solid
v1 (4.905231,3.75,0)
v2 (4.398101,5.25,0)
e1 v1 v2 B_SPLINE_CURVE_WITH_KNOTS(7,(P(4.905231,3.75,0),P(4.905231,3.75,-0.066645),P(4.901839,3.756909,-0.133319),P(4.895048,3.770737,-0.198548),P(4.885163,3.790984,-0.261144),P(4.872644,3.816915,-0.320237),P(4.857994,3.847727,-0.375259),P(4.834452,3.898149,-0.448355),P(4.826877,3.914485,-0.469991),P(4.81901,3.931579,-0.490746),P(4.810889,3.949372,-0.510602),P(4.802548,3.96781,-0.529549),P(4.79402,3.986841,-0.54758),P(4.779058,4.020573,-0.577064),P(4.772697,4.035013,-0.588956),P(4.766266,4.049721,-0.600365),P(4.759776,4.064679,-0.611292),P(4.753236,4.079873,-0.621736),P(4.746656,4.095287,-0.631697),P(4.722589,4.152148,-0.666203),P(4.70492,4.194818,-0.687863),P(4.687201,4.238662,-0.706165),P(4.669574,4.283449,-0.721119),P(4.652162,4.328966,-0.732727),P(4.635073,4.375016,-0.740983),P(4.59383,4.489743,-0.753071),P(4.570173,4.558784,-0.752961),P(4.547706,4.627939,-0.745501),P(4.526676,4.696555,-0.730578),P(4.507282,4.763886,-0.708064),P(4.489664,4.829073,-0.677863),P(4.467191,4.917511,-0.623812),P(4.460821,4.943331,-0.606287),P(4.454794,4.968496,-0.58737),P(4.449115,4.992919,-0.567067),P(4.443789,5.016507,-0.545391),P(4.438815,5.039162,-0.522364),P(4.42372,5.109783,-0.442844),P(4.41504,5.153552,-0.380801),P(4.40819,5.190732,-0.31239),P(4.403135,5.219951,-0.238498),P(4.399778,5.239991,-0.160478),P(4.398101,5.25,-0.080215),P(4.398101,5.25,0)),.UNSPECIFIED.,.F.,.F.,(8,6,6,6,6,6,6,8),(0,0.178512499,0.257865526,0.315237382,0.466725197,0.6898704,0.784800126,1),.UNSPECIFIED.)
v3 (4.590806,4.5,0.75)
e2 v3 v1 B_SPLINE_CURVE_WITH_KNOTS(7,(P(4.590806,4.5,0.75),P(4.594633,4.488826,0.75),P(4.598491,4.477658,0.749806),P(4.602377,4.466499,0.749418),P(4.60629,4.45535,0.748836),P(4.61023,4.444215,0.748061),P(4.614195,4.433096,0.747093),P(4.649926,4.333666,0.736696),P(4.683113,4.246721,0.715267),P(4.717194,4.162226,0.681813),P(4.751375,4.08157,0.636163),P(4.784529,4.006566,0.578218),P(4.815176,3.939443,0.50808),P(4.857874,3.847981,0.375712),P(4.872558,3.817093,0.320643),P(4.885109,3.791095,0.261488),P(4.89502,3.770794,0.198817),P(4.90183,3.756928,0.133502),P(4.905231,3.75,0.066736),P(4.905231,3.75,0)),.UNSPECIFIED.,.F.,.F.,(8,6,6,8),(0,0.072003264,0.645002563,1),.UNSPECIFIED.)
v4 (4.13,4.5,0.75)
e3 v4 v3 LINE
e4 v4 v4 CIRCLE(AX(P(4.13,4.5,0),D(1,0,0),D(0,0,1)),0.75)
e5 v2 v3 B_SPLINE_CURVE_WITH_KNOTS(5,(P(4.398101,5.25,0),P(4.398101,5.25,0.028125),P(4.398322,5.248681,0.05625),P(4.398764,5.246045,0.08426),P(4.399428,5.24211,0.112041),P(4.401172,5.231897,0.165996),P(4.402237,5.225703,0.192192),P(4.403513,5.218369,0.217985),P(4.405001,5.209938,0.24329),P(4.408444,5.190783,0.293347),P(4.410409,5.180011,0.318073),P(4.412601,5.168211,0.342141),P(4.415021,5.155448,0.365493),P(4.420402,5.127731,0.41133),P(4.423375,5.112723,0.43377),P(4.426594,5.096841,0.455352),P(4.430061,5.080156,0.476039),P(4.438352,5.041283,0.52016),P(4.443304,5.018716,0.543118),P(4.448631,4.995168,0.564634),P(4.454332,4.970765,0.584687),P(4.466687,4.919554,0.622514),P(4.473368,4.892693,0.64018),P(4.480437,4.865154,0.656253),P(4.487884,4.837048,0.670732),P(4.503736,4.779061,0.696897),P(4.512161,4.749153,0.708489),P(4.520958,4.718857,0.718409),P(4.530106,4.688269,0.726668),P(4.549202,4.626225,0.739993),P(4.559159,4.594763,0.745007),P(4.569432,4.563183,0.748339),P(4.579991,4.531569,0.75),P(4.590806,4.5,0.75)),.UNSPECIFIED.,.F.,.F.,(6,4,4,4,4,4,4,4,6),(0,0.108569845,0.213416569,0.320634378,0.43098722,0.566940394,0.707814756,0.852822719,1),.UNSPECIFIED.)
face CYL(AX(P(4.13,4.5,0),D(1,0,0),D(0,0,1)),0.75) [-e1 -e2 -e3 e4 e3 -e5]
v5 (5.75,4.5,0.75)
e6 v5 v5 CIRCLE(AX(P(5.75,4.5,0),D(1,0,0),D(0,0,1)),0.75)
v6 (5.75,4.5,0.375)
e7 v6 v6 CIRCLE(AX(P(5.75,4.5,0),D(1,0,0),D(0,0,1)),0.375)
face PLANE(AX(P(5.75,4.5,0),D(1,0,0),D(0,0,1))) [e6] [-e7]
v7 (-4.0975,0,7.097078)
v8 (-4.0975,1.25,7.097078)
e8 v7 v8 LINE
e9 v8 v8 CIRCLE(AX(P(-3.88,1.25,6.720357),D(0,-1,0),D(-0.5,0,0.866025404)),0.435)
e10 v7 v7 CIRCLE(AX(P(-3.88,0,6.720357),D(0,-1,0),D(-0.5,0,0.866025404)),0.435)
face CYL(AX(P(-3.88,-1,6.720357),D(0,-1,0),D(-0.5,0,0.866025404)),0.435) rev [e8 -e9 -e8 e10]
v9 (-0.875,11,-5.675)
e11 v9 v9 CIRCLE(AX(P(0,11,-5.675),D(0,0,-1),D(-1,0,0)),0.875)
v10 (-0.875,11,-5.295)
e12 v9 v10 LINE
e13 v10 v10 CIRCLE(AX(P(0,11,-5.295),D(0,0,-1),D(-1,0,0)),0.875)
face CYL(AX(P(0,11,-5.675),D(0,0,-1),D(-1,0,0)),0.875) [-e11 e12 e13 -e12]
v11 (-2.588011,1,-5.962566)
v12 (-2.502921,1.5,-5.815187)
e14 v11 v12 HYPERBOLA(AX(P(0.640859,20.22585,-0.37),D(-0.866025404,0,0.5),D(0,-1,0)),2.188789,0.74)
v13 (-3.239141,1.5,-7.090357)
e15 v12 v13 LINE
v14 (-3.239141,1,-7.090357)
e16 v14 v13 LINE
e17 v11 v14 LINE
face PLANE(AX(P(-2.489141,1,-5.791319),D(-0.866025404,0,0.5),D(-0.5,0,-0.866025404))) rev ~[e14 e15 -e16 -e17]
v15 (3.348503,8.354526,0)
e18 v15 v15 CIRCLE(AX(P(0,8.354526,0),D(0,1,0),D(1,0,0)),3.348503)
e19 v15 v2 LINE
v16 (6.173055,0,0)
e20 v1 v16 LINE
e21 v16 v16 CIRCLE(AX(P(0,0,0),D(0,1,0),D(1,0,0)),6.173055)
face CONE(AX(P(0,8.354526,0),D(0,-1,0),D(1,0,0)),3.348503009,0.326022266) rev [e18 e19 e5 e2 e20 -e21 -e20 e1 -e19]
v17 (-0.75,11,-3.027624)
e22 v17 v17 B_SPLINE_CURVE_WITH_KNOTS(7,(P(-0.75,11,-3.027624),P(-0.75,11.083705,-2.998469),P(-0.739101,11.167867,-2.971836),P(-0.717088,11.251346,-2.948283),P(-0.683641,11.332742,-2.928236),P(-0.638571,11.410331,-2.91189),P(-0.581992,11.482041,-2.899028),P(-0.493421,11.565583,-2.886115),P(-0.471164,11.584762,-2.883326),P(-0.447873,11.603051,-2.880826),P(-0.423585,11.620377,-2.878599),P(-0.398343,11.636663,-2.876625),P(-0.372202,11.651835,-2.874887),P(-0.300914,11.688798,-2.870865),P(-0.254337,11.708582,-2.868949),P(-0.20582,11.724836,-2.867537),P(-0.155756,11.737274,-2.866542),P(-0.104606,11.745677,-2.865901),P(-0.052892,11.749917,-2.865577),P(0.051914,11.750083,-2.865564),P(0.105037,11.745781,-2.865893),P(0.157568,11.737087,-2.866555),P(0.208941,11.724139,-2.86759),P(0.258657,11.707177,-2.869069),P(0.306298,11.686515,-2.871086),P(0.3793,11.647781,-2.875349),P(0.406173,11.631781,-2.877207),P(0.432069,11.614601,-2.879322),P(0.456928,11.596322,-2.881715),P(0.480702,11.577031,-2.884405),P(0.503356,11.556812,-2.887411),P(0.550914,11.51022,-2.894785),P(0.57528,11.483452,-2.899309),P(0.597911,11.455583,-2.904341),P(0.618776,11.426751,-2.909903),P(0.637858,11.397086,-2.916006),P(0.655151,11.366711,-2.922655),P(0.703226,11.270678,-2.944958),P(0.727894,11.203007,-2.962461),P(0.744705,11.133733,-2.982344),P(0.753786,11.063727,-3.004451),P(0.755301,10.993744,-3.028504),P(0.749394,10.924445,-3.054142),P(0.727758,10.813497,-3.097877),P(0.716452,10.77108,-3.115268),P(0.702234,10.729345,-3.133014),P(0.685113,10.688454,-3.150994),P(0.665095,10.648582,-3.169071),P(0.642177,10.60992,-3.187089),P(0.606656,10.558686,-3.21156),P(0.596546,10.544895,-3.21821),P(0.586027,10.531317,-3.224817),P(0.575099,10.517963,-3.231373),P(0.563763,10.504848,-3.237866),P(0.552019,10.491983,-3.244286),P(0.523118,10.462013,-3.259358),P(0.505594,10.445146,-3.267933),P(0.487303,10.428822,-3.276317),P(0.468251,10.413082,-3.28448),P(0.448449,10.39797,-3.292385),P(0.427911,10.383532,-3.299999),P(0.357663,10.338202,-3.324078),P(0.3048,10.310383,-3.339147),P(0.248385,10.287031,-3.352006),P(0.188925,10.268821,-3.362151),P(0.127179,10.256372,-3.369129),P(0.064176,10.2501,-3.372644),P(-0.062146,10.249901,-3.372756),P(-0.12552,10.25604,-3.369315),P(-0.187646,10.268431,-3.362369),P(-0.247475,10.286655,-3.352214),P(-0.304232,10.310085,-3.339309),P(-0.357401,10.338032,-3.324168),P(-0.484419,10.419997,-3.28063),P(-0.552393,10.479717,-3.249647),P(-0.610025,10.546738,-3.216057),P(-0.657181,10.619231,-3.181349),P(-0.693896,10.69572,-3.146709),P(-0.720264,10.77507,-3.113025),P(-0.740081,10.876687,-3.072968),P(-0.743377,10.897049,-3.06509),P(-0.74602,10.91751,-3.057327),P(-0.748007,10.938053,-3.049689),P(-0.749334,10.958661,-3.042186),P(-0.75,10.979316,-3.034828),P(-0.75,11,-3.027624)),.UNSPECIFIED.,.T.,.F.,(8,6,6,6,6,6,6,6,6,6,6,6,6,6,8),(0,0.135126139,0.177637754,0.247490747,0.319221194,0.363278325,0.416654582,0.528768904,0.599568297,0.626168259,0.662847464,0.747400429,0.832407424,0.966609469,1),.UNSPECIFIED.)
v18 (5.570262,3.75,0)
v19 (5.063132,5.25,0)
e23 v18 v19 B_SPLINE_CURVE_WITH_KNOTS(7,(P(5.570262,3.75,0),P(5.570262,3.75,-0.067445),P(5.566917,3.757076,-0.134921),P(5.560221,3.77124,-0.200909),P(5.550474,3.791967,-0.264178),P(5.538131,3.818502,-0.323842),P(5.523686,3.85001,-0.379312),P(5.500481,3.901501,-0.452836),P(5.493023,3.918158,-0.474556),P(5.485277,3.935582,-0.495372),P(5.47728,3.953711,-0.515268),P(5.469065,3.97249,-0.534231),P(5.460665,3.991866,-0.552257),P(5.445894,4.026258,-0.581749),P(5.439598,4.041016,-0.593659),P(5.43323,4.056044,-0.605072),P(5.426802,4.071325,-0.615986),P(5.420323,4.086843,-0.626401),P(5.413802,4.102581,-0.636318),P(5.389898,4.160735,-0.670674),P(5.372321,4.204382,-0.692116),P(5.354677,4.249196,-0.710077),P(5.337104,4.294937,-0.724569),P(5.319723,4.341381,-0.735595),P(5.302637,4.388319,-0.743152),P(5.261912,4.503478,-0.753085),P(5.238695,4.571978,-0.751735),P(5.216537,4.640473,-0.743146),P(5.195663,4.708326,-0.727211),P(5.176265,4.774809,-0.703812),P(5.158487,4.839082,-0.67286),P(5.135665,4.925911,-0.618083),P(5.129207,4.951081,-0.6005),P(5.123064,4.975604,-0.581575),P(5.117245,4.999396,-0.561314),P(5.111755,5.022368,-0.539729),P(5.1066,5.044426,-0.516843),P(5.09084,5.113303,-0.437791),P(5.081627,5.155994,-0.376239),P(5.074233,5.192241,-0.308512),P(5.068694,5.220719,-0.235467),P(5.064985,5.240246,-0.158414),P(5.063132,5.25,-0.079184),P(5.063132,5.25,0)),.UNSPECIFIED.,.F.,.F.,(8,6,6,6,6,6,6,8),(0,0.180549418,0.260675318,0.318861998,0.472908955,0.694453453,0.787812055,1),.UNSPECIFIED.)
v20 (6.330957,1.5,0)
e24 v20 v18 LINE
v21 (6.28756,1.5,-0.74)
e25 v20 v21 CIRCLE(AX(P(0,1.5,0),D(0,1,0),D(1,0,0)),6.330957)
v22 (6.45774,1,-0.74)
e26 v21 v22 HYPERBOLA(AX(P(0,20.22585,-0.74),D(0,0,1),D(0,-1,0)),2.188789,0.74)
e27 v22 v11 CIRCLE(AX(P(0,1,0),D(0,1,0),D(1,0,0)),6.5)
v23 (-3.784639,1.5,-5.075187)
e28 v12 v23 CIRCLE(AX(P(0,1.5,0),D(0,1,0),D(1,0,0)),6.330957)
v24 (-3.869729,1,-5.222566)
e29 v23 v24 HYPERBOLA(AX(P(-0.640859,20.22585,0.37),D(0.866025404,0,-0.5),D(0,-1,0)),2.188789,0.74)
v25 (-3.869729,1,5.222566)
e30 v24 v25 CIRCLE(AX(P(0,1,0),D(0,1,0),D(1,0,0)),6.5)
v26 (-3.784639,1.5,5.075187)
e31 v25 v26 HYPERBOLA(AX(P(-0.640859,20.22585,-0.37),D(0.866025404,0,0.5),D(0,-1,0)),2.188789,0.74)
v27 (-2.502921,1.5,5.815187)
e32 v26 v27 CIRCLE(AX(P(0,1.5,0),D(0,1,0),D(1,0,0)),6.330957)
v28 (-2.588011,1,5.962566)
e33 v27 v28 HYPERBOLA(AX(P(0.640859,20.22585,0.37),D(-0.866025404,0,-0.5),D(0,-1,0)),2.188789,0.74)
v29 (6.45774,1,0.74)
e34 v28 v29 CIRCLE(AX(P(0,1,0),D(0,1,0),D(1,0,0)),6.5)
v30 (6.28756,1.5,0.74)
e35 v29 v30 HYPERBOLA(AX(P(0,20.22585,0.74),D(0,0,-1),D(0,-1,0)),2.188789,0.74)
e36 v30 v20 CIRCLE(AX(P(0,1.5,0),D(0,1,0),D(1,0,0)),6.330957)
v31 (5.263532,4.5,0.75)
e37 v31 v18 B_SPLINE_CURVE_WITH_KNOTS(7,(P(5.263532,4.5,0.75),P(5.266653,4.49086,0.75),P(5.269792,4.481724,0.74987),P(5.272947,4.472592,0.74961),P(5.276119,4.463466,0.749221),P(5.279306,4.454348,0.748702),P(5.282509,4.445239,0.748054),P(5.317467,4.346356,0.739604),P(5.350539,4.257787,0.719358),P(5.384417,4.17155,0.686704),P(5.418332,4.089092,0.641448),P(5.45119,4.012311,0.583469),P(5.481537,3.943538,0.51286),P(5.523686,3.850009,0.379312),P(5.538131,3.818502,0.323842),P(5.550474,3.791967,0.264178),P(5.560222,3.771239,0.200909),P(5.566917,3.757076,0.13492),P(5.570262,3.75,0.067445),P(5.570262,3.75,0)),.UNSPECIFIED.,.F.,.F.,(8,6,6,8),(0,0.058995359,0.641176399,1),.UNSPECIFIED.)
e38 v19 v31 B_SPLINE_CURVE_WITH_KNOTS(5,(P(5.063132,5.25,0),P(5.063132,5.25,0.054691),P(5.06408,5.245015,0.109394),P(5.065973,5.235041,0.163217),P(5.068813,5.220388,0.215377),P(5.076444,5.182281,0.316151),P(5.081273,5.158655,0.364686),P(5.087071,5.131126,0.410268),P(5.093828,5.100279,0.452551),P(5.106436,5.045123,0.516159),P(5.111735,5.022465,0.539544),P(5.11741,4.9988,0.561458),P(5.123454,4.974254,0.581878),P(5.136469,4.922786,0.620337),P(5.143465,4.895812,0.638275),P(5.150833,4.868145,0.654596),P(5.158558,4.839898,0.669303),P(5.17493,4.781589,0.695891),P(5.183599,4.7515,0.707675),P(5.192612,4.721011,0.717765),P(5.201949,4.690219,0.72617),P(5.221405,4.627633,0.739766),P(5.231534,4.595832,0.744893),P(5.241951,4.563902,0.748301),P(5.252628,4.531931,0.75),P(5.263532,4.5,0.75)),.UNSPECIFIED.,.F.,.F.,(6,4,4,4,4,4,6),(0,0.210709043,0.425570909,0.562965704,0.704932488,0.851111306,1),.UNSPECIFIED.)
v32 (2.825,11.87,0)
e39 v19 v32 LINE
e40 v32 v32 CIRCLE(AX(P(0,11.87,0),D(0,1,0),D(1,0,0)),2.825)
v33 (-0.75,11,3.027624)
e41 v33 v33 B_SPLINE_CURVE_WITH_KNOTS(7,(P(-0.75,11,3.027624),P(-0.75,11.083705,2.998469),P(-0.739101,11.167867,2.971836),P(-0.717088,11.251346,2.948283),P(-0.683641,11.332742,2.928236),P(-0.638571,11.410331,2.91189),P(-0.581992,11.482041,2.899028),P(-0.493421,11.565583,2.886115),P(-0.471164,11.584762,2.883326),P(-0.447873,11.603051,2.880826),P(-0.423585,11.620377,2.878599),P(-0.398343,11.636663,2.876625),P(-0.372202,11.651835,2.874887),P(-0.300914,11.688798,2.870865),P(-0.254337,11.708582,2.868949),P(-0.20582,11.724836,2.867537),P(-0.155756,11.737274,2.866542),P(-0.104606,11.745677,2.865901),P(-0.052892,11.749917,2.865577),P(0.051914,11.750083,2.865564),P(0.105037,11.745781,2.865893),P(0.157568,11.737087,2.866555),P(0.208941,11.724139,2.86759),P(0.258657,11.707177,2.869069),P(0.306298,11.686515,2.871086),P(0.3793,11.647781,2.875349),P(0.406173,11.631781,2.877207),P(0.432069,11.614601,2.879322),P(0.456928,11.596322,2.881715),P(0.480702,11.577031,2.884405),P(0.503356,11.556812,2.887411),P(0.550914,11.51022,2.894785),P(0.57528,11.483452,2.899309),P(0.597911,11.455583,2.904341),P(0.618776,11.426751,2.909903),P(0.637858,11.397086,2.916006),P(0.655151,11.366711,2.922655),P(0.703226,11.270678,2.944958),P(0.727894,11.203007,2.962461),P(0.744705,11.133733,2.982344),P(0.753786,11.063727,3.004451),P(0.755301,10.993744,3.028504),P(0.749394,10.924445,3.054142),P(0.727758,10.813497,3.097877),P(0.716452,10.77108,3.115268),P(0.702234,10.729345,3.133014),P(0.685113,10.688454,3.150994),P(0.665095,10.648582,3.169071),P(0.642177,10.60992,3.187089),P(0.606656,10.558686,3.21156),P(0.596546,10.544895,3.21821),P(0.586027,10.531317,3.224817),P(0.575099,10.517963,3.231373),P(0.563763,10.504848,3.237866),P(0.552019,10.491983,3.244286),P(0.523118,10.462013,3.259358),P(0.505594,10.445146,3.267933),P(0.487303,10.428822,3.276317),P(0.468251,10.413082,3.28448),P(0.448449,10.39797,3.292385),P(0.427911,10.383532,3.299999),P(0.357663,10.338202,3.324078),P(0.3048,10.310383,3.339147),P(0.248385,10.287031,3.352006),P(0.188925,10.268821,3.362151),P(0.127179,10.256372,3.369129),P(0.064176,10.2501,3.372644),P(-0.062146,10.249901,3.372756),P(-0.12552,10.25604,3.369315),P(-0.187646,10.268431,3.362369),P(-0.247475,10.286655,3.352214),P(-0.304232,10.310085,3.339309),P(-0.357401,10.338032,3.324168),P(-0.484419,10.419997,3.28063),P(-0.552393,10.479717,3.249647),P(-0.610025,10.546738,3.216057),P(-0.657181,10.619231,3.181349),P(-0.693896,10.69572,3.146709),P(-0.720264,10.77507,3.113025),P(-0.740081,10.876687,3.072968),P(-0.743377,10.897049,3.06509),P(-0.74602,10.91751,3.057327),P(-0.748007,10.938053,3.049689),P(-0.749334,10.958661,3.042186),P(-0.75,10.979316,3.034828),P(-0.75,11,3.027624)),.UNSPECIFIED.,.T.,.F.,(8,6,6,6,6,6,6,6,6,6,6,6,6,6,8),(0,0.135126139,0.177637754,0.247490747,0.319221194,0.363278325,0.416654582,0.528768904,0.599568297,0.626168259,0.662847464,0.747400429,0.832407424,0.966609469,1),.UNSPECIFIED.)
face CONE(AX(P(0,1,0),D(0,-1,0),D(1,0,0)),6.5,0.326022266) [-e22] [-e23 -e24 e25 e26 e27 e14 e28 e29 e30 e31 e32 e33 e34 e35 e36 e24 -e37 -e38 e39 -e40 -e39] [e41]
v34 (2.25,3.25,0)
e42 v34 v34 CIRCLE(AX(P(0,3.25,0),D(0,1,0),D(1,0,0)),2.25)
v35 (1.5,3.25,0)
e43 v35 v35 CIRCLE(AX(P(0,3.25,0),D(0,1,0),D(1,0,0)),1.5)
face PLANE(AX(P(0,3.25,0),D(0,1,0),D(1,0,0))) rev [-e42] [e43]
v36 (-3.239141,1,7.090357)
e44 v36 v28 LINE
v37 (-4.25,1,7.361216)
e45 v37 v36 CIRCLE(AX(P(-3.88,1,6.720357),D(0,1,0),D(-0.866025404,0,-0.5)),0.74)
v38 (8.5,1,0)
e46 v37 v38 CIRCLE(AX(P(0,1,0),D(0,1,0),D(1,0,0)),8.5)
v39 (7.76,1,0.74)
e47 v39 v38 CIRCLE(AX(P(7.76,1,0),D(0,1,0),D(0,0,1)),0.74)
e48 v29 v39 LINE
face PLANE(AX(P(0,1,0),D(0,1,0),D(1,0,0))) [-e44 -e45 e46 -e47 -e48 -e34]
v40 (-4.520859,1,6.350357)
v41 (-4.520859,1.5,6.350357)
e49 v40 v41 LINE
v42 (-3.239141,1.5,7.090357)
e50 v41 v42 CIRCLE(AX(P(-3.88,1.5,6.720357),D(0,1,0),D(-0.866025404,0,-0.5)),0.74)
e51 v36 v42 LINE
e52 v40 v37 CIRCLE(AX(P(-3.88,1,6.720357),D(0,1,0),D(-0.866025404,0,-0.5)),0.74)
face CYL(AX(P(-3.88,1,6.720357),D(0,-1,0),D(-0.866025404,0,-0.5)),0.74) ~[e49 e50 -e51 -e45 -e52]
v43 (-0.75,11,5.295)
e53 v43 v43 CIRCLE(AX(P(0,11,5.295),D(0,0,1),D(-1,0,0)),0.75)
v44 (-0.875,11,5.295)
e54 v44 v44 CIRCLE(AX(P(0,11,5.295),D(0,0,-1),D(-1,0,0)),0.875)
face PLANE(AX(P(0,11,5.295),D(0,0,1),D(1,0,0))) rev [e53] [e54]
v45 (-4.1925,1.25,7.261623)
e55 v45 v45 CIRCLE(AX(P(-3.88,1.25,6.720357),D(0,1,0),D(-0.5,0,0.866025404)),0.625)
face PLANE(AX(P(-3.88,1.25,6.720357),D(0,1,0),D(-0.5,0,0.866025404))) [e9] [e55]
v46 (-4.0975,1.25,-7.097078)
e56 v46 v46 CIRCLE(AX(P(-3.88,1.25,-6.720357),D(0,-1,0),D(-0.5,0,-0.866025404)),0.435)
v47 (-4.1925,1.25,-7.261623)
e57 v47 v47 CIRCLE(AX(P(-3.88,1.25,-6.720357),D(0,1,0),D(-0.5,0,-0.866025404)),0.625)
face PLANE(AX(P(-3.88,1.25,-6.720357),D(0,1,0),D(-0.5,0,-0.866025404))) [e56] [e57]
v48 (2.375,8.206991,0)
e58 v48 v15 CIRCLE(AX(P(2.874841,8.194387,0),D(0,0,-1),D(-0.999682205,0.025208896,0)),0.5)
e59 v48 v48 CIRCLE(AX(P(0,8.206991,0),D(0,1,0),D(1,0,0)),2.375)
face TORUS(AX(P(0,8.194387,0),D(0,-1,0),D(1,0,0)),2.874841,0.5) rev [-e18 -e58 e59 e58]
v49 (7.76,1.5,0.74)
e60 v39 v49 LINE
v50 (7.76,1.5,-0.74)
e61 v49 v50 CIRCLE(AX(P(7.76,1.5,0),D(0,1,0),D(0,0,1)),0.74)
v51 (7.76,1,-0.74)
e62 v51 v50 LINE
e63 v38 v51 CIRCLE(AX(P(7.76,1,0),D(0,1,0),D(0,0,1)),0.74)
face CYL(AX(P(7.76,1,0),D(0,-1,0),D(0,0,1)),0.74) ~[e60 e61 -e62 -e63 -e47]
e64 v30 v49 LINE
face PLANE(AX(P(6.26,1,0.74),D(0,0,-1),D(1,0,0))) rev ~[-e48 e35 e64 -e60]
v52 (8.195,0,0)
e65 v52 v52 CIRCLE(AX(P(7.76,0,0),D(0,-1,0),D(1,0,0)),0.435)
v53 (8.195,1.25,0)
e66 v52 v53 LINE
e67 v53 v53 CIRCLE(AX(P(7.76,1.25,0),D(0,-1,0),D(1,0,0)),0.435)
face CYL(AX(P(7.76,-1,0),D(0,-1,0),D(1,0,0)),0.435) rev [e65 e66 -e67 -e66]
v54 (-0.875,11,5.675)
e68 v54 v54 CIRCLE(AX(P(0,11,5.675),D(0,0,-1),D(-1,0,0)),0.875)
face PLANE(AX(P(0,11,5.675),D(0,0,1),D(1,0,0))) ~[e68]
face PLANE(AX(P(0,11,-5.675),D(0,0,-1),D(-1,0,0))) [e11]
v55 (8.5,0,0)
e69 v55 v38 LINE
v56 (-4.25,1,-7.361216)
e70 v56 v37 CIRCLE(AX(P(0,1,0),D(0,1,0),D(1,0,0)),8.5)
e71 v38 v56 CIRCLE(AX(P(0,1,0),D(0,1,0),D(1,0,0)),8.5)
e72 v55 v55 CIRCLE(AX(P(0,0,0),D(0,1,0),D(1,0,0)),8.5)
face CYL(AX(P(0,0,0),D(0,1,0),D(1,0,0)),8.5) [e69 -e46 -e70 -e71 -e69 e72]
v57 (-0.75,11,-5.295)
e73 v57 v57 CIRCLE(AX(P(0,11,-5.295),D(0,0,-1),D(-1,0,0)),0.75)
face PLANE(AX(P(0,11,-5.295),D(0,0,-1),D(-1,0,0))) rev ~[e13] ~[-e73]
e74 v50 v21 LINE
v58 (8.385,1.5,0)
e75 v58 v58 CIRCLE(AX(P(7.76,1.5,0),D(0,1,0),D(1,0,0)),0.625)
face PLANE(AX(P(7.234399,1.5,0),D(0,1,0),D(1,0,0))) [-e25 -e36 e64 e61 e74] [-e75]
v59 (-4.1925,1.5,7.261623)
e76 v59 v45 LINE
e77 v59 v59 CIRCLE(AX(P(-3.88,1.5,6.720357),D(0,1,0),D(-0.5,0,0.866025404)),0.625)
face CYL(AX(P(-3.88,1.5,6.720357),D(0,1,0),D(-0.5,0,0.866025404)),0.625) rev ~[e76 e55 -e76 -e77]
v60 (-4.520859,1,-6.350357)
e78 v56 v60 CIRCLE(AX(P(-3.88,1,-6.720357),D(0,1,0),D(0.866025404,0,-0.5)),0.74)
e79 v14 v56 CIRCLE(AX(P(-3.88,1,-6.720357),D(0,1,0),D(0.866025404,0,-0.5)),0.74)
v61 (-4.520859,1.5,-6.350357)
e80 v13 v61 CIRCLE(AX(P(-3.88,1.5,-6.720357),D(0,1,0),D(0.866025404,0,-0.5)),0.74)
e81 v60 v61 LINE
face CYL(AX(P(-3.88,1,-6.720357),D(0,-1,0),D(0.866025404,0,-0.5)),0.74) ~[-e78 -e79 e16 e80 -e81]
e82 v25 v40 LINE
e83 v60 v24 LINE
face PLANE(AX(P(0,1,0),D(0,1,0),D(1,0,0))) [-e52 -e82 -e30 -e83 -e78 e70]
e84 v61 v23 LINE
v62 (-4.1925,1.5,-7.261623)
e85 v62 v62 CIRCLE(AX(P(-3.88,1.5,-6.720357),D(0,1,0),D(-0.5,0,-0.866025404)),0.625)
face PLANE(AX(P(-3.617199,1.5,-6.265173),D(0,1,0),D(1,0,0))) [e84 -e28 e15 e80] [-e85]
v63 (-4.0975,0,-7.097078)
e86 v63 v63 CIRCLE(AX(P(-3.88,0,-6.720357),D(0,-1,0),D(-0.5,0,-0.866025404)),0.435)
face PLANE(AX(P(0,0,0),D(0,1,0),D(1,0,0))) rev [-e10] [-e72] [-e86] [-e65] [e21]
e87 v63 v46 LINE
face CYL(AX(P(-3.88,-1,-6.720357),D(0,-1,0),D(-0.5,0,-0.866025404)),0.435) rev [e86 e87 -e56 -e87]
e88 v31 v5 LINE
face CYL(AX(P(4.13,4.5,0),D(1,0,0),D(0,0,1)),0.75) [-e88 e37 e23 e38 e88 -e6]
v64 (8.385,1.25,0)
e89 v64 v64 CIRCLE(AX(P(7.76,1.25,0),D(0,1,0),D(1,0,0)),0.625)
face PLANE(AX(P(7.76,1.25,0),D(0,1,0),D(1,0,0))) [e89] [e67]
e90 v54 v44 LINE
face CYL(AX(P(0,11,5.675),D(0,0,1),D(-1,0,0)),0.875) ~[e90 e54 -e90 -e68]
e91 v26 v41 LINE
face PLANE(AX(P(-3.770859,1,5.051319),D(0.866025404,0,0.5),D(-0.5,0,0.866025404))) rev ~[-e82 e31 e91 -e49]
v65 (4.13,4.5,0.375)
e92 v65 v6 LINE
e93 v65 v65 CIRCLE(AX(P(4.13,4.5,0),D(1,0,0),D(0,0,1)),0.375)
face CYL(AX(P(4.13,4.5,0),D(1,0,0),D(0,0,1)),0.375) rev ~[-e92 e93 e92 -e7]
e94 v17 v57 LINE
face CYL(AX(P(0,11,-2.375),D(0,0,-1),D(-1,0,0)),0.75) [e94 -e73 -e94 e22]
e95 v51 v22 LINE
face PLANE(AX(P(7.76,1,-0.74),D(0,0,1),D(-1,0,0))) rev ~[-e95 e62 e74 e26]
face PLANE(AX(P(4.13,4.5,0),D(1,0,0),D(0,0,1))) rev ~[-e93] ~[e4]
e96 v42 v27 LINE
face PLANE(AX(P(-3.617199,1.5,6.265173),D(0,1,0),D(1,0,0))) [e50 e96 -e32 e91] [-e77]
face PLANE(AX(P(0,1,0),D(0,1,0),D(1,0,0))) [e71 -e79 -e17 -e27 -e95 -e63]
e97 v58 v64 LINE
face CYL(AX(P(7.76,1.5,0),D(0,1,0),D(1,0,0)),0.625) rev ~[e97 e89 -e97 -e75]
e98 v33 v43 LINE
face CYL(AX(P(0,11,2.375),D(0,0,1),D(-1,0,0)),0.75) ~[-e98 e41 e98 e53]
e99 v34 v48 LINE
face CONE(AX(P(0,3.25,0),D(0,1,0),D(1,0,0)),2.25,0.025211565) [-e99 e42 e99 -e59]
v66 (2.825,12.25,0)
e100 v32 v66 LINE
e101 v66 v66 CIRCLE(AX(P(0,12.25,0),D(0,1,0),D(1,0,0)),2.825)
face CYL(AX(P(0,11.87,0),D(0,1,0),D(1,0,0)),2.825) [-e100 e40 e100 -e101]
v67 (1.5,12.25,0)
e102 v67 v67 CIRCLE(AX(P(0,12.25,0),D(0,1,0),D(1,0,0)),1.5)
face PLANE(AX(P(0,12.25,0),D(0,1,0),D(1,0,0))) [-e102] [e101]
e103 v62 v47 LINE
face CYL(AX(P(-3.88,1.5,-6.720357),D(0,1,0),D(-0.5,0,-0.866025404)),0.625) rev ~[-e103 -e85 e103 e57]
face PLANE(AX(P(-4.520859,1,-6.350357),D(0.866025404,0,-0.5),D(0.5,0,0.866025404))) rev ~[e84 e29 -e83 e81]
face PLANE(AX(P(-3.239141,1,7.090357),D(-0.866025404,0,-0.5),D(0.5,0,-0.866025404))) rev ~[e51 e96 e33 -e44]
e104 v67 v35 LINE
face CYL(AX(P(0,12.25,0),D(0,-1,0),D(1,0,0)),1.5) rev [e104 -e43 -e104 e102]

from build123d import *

# Parameters (mm, degrees)
SWEEP1_PROFILE_R     = 0.75
CUT_SWEEP1_PROFILE_R = 0.375
SWEEP5_PROFILE_R     = 0.75
SKETCH42_R           = 0.875
BOSS_EXTRUDE1_DEPTH  = 0.38
BOSS_EXTRUDE2_START  = 1
BOSS_EXTRUDE2_DEPTH  = 0.5
CUT_EXTRUDE1_START   = 1.5
SKETCH45_R           = 0.625
CUT_EXTRUDE1_DEPTH   = 0.25
CUT_EXTRUDE3_START   = -1.0000001
SKETCH47_R           = 0.435
CUT_EXTRUDE3_DEPTH   = 14.2500001
CIRPATTERN1_COUNT    = 3


with BuildPart() as part:
    # Sketch1 → Revolve1 (revolve)
    with BuildSketch(Plane.XY):
        with BuildLine():
            Line((8.5, 0), (8.5, 1))
            Line((8.5, 1), (6.5, 1))
            Line((6.5, 1), (2.825, 11.87))
            Line((2.825, 11.87), (2.825, 12.25))
            Line((2.825, 12.25), (1.5, 12.25))
            Line((1.5, 12.25), (1.5, 3.25))
            Line((1.5, 3.25), (2.25, 3.25))
            Line((2.25, 3.25), (2.375, 8.206991452))
            ThreePointArc((2.375, 8.206991452), (2.799921643, 8.688742215), (3.348503009, 8.354525689))
            Line((3.348503009, 8.354525689), (6.173055163, 0))
            Line((6.173055163, 0), (8.5, 0))
        make_face()
    revolve(axis=Axis((0, -0.442438554, 0), (0, 1, 0)))

    # Sweep1: sweep along a path in Sketch5
    with BuildLine(Plane.XY) as sweep1_path:
        Line((4.13, 4.5), (5.75, 4.5))
    # Sweep1 profile (on start of the path) → Sweep1 (sweep)
    with BuildSketch(Plane(origin=(4.13, 4.5, 0), x_dir=(0, 0, 1), z_dir=(1, 0, 0))):
        Circle(SWEEP1_PROFILE_R)
    sweep(path=sweep1_path.line)

    # Cut-Sweep1: sweep along a path in Sketch5<2>
    with BuildLine(Plane.XY) as cut_sweep1_path:
        Line((4.13, 4.5), (5.75, 4.5))
    # Cut-Sweep1 profile (on start of the path) → Cut-Sweep1 (sweep, cut)
    with BuildSketch(Plane(origin=(4.13, 4.5, 0), x_dir=(0, 0, 1), z_dir=(1, 0, 0))):
        Circle(CUT_SWEEP1_PROFILE_R)
    sweep(path=cut_sweep1_path.line, mode=Mode.SUBTRACT)

    # Sweep5: sweep along a path in Sketch16
    with BuildLine(Plane(origin=(0, 0, 0), x_dir=(0, 0, -1), z_dir=(1, 0, 0))) as sweep5_path:
        Line((2.375, 11), (5.675, 11))
    # Sweep5 profile (on start of the path) → Sweep5 (sweep)
    with BuildSketch(Plane(origin=(0, 11, -2.375), x_dir=(-1, 0, 0), z_dir=(0, 0, -1))):
        Circle(SWEEP5_PROFILE_R)
    sweep5 = sweep(path=sweep5_path.line)

    # Sketch42 → Boss-Extrude1 (add)
    with BuildSketch(Plane(origin=(0, 0, -5.675), x_dir=(-1, 0, 0), z_dir=(0, 0, -1))):
        with Locations((0, 11)):
            Circle(SKETCH42_R)
    boss_extrude1 = extrude(amount=-BOSS_EXTRUDE1_DEPTH)

    # Mirror2: Sweep5, Boss-Extrude1 across plane
    add(sweep5.mirror(Plane.XY))
    add(boss_extrude1.mirror(Plane.XY))

    # Sketch44 → Boss-Extrude2 (add)
    with BuildSketch(Plane(origin=(0, 0, 0), x_dir=(1, 0, 0), z_dir=(0, 1, 0)).offset(BOSS_EXTRUDE2_START)):
        with BuildLine():
            Line((7.76, 0.74), (6.26, 0.74))
            Line((6.26, 0.74), (6.26, -0.74))
            Line((6.26, -0.74), (7.76, -0.74))
            ThreePointArc((7.76, -0.74), (8.5, 0), (7.76, 0.74))
        make_face()
        with BuildLine():
            Line((-3.239141201, -7.090357133), (-2.489141201, -5.791319028))
            Line((-2.489141201, -5.791319028), (-3.770858799, -5.051319028))
            Line((-3.770858799, -5.051319028), (-4.520858799, -6.350357133))
            ThreePointArc((-4.520858799, -6.350357133), (-4.25, -7.361215932), (-3.239141201, -7.090357133))
        make_face()
        with BuildLine():
            Line((-4.520858799, 6.350357133), (-3.770858799, 5.051319028))
            Line((-3.770858799, 5.051319028), (-2.489141201, 5.791319028))
            Line((-2.489141201, 5.791319028), (-3.239141201, 7.090357133))
            ThreePointArc((-3.239141201, 7.090357133), (-4.25, 7.361215932), (-4.520858799, 6.350357133))
        make_face()
    extrude(amount=BOSS_EXTRUDE2_DEPTH)

    # Sketch45 → Cut-Extrude1 (cut)
    with BuildSketch(Plane(origin=(0, 0, 0), x_dir=(1, 0, 0), z_dir=(0, 1, 0)).offset(CUT_EXTRUDE1_START)):
        with Locations((7.76, 0)):
            Circle(SKETCH45_R)
    cut_extrude1 = extrude(amount=-CUT_EXTRUDE1_DEPTH, mode=Mode.SUBTRACT)

    # Sketch47 → Cut-Extrude3 (cut)
    with BuildSketch(Plane(origin=(0, 0, 0), x_dir=(1, 0, 0), z_dir=(0, 1, 0)).offset(CUT_EXTRUDE3_START)):
        with Locations((7.76, 0)):
            Circle(SKETCH47_R)
    cut_extrude3 = extrude(amount=CUT_EXTRUDE3_DEPTH, mode=Mode.SUBTRACT)

    # CirPattern1: Cut-Extrude1, Cut-Extrude3 ×3 about axis
    cirpattern1_axis = Axis((0, 0, 0), (0, 1, 0))
    for i in range(1, CIRPATTERN1_COUNT):
        add(cut_extrude1.rotate(cirpattern1_axis, i * 360 / CIRPATTERN1_COUNT), mode=Mode.SUBTRACT)
        add(cut_extrude3.rotate(cirpattern1_axis, i * 360 / CIRPATTERN1_COUNT), mode=Mode.SUBTRACT)


solid = part.part
